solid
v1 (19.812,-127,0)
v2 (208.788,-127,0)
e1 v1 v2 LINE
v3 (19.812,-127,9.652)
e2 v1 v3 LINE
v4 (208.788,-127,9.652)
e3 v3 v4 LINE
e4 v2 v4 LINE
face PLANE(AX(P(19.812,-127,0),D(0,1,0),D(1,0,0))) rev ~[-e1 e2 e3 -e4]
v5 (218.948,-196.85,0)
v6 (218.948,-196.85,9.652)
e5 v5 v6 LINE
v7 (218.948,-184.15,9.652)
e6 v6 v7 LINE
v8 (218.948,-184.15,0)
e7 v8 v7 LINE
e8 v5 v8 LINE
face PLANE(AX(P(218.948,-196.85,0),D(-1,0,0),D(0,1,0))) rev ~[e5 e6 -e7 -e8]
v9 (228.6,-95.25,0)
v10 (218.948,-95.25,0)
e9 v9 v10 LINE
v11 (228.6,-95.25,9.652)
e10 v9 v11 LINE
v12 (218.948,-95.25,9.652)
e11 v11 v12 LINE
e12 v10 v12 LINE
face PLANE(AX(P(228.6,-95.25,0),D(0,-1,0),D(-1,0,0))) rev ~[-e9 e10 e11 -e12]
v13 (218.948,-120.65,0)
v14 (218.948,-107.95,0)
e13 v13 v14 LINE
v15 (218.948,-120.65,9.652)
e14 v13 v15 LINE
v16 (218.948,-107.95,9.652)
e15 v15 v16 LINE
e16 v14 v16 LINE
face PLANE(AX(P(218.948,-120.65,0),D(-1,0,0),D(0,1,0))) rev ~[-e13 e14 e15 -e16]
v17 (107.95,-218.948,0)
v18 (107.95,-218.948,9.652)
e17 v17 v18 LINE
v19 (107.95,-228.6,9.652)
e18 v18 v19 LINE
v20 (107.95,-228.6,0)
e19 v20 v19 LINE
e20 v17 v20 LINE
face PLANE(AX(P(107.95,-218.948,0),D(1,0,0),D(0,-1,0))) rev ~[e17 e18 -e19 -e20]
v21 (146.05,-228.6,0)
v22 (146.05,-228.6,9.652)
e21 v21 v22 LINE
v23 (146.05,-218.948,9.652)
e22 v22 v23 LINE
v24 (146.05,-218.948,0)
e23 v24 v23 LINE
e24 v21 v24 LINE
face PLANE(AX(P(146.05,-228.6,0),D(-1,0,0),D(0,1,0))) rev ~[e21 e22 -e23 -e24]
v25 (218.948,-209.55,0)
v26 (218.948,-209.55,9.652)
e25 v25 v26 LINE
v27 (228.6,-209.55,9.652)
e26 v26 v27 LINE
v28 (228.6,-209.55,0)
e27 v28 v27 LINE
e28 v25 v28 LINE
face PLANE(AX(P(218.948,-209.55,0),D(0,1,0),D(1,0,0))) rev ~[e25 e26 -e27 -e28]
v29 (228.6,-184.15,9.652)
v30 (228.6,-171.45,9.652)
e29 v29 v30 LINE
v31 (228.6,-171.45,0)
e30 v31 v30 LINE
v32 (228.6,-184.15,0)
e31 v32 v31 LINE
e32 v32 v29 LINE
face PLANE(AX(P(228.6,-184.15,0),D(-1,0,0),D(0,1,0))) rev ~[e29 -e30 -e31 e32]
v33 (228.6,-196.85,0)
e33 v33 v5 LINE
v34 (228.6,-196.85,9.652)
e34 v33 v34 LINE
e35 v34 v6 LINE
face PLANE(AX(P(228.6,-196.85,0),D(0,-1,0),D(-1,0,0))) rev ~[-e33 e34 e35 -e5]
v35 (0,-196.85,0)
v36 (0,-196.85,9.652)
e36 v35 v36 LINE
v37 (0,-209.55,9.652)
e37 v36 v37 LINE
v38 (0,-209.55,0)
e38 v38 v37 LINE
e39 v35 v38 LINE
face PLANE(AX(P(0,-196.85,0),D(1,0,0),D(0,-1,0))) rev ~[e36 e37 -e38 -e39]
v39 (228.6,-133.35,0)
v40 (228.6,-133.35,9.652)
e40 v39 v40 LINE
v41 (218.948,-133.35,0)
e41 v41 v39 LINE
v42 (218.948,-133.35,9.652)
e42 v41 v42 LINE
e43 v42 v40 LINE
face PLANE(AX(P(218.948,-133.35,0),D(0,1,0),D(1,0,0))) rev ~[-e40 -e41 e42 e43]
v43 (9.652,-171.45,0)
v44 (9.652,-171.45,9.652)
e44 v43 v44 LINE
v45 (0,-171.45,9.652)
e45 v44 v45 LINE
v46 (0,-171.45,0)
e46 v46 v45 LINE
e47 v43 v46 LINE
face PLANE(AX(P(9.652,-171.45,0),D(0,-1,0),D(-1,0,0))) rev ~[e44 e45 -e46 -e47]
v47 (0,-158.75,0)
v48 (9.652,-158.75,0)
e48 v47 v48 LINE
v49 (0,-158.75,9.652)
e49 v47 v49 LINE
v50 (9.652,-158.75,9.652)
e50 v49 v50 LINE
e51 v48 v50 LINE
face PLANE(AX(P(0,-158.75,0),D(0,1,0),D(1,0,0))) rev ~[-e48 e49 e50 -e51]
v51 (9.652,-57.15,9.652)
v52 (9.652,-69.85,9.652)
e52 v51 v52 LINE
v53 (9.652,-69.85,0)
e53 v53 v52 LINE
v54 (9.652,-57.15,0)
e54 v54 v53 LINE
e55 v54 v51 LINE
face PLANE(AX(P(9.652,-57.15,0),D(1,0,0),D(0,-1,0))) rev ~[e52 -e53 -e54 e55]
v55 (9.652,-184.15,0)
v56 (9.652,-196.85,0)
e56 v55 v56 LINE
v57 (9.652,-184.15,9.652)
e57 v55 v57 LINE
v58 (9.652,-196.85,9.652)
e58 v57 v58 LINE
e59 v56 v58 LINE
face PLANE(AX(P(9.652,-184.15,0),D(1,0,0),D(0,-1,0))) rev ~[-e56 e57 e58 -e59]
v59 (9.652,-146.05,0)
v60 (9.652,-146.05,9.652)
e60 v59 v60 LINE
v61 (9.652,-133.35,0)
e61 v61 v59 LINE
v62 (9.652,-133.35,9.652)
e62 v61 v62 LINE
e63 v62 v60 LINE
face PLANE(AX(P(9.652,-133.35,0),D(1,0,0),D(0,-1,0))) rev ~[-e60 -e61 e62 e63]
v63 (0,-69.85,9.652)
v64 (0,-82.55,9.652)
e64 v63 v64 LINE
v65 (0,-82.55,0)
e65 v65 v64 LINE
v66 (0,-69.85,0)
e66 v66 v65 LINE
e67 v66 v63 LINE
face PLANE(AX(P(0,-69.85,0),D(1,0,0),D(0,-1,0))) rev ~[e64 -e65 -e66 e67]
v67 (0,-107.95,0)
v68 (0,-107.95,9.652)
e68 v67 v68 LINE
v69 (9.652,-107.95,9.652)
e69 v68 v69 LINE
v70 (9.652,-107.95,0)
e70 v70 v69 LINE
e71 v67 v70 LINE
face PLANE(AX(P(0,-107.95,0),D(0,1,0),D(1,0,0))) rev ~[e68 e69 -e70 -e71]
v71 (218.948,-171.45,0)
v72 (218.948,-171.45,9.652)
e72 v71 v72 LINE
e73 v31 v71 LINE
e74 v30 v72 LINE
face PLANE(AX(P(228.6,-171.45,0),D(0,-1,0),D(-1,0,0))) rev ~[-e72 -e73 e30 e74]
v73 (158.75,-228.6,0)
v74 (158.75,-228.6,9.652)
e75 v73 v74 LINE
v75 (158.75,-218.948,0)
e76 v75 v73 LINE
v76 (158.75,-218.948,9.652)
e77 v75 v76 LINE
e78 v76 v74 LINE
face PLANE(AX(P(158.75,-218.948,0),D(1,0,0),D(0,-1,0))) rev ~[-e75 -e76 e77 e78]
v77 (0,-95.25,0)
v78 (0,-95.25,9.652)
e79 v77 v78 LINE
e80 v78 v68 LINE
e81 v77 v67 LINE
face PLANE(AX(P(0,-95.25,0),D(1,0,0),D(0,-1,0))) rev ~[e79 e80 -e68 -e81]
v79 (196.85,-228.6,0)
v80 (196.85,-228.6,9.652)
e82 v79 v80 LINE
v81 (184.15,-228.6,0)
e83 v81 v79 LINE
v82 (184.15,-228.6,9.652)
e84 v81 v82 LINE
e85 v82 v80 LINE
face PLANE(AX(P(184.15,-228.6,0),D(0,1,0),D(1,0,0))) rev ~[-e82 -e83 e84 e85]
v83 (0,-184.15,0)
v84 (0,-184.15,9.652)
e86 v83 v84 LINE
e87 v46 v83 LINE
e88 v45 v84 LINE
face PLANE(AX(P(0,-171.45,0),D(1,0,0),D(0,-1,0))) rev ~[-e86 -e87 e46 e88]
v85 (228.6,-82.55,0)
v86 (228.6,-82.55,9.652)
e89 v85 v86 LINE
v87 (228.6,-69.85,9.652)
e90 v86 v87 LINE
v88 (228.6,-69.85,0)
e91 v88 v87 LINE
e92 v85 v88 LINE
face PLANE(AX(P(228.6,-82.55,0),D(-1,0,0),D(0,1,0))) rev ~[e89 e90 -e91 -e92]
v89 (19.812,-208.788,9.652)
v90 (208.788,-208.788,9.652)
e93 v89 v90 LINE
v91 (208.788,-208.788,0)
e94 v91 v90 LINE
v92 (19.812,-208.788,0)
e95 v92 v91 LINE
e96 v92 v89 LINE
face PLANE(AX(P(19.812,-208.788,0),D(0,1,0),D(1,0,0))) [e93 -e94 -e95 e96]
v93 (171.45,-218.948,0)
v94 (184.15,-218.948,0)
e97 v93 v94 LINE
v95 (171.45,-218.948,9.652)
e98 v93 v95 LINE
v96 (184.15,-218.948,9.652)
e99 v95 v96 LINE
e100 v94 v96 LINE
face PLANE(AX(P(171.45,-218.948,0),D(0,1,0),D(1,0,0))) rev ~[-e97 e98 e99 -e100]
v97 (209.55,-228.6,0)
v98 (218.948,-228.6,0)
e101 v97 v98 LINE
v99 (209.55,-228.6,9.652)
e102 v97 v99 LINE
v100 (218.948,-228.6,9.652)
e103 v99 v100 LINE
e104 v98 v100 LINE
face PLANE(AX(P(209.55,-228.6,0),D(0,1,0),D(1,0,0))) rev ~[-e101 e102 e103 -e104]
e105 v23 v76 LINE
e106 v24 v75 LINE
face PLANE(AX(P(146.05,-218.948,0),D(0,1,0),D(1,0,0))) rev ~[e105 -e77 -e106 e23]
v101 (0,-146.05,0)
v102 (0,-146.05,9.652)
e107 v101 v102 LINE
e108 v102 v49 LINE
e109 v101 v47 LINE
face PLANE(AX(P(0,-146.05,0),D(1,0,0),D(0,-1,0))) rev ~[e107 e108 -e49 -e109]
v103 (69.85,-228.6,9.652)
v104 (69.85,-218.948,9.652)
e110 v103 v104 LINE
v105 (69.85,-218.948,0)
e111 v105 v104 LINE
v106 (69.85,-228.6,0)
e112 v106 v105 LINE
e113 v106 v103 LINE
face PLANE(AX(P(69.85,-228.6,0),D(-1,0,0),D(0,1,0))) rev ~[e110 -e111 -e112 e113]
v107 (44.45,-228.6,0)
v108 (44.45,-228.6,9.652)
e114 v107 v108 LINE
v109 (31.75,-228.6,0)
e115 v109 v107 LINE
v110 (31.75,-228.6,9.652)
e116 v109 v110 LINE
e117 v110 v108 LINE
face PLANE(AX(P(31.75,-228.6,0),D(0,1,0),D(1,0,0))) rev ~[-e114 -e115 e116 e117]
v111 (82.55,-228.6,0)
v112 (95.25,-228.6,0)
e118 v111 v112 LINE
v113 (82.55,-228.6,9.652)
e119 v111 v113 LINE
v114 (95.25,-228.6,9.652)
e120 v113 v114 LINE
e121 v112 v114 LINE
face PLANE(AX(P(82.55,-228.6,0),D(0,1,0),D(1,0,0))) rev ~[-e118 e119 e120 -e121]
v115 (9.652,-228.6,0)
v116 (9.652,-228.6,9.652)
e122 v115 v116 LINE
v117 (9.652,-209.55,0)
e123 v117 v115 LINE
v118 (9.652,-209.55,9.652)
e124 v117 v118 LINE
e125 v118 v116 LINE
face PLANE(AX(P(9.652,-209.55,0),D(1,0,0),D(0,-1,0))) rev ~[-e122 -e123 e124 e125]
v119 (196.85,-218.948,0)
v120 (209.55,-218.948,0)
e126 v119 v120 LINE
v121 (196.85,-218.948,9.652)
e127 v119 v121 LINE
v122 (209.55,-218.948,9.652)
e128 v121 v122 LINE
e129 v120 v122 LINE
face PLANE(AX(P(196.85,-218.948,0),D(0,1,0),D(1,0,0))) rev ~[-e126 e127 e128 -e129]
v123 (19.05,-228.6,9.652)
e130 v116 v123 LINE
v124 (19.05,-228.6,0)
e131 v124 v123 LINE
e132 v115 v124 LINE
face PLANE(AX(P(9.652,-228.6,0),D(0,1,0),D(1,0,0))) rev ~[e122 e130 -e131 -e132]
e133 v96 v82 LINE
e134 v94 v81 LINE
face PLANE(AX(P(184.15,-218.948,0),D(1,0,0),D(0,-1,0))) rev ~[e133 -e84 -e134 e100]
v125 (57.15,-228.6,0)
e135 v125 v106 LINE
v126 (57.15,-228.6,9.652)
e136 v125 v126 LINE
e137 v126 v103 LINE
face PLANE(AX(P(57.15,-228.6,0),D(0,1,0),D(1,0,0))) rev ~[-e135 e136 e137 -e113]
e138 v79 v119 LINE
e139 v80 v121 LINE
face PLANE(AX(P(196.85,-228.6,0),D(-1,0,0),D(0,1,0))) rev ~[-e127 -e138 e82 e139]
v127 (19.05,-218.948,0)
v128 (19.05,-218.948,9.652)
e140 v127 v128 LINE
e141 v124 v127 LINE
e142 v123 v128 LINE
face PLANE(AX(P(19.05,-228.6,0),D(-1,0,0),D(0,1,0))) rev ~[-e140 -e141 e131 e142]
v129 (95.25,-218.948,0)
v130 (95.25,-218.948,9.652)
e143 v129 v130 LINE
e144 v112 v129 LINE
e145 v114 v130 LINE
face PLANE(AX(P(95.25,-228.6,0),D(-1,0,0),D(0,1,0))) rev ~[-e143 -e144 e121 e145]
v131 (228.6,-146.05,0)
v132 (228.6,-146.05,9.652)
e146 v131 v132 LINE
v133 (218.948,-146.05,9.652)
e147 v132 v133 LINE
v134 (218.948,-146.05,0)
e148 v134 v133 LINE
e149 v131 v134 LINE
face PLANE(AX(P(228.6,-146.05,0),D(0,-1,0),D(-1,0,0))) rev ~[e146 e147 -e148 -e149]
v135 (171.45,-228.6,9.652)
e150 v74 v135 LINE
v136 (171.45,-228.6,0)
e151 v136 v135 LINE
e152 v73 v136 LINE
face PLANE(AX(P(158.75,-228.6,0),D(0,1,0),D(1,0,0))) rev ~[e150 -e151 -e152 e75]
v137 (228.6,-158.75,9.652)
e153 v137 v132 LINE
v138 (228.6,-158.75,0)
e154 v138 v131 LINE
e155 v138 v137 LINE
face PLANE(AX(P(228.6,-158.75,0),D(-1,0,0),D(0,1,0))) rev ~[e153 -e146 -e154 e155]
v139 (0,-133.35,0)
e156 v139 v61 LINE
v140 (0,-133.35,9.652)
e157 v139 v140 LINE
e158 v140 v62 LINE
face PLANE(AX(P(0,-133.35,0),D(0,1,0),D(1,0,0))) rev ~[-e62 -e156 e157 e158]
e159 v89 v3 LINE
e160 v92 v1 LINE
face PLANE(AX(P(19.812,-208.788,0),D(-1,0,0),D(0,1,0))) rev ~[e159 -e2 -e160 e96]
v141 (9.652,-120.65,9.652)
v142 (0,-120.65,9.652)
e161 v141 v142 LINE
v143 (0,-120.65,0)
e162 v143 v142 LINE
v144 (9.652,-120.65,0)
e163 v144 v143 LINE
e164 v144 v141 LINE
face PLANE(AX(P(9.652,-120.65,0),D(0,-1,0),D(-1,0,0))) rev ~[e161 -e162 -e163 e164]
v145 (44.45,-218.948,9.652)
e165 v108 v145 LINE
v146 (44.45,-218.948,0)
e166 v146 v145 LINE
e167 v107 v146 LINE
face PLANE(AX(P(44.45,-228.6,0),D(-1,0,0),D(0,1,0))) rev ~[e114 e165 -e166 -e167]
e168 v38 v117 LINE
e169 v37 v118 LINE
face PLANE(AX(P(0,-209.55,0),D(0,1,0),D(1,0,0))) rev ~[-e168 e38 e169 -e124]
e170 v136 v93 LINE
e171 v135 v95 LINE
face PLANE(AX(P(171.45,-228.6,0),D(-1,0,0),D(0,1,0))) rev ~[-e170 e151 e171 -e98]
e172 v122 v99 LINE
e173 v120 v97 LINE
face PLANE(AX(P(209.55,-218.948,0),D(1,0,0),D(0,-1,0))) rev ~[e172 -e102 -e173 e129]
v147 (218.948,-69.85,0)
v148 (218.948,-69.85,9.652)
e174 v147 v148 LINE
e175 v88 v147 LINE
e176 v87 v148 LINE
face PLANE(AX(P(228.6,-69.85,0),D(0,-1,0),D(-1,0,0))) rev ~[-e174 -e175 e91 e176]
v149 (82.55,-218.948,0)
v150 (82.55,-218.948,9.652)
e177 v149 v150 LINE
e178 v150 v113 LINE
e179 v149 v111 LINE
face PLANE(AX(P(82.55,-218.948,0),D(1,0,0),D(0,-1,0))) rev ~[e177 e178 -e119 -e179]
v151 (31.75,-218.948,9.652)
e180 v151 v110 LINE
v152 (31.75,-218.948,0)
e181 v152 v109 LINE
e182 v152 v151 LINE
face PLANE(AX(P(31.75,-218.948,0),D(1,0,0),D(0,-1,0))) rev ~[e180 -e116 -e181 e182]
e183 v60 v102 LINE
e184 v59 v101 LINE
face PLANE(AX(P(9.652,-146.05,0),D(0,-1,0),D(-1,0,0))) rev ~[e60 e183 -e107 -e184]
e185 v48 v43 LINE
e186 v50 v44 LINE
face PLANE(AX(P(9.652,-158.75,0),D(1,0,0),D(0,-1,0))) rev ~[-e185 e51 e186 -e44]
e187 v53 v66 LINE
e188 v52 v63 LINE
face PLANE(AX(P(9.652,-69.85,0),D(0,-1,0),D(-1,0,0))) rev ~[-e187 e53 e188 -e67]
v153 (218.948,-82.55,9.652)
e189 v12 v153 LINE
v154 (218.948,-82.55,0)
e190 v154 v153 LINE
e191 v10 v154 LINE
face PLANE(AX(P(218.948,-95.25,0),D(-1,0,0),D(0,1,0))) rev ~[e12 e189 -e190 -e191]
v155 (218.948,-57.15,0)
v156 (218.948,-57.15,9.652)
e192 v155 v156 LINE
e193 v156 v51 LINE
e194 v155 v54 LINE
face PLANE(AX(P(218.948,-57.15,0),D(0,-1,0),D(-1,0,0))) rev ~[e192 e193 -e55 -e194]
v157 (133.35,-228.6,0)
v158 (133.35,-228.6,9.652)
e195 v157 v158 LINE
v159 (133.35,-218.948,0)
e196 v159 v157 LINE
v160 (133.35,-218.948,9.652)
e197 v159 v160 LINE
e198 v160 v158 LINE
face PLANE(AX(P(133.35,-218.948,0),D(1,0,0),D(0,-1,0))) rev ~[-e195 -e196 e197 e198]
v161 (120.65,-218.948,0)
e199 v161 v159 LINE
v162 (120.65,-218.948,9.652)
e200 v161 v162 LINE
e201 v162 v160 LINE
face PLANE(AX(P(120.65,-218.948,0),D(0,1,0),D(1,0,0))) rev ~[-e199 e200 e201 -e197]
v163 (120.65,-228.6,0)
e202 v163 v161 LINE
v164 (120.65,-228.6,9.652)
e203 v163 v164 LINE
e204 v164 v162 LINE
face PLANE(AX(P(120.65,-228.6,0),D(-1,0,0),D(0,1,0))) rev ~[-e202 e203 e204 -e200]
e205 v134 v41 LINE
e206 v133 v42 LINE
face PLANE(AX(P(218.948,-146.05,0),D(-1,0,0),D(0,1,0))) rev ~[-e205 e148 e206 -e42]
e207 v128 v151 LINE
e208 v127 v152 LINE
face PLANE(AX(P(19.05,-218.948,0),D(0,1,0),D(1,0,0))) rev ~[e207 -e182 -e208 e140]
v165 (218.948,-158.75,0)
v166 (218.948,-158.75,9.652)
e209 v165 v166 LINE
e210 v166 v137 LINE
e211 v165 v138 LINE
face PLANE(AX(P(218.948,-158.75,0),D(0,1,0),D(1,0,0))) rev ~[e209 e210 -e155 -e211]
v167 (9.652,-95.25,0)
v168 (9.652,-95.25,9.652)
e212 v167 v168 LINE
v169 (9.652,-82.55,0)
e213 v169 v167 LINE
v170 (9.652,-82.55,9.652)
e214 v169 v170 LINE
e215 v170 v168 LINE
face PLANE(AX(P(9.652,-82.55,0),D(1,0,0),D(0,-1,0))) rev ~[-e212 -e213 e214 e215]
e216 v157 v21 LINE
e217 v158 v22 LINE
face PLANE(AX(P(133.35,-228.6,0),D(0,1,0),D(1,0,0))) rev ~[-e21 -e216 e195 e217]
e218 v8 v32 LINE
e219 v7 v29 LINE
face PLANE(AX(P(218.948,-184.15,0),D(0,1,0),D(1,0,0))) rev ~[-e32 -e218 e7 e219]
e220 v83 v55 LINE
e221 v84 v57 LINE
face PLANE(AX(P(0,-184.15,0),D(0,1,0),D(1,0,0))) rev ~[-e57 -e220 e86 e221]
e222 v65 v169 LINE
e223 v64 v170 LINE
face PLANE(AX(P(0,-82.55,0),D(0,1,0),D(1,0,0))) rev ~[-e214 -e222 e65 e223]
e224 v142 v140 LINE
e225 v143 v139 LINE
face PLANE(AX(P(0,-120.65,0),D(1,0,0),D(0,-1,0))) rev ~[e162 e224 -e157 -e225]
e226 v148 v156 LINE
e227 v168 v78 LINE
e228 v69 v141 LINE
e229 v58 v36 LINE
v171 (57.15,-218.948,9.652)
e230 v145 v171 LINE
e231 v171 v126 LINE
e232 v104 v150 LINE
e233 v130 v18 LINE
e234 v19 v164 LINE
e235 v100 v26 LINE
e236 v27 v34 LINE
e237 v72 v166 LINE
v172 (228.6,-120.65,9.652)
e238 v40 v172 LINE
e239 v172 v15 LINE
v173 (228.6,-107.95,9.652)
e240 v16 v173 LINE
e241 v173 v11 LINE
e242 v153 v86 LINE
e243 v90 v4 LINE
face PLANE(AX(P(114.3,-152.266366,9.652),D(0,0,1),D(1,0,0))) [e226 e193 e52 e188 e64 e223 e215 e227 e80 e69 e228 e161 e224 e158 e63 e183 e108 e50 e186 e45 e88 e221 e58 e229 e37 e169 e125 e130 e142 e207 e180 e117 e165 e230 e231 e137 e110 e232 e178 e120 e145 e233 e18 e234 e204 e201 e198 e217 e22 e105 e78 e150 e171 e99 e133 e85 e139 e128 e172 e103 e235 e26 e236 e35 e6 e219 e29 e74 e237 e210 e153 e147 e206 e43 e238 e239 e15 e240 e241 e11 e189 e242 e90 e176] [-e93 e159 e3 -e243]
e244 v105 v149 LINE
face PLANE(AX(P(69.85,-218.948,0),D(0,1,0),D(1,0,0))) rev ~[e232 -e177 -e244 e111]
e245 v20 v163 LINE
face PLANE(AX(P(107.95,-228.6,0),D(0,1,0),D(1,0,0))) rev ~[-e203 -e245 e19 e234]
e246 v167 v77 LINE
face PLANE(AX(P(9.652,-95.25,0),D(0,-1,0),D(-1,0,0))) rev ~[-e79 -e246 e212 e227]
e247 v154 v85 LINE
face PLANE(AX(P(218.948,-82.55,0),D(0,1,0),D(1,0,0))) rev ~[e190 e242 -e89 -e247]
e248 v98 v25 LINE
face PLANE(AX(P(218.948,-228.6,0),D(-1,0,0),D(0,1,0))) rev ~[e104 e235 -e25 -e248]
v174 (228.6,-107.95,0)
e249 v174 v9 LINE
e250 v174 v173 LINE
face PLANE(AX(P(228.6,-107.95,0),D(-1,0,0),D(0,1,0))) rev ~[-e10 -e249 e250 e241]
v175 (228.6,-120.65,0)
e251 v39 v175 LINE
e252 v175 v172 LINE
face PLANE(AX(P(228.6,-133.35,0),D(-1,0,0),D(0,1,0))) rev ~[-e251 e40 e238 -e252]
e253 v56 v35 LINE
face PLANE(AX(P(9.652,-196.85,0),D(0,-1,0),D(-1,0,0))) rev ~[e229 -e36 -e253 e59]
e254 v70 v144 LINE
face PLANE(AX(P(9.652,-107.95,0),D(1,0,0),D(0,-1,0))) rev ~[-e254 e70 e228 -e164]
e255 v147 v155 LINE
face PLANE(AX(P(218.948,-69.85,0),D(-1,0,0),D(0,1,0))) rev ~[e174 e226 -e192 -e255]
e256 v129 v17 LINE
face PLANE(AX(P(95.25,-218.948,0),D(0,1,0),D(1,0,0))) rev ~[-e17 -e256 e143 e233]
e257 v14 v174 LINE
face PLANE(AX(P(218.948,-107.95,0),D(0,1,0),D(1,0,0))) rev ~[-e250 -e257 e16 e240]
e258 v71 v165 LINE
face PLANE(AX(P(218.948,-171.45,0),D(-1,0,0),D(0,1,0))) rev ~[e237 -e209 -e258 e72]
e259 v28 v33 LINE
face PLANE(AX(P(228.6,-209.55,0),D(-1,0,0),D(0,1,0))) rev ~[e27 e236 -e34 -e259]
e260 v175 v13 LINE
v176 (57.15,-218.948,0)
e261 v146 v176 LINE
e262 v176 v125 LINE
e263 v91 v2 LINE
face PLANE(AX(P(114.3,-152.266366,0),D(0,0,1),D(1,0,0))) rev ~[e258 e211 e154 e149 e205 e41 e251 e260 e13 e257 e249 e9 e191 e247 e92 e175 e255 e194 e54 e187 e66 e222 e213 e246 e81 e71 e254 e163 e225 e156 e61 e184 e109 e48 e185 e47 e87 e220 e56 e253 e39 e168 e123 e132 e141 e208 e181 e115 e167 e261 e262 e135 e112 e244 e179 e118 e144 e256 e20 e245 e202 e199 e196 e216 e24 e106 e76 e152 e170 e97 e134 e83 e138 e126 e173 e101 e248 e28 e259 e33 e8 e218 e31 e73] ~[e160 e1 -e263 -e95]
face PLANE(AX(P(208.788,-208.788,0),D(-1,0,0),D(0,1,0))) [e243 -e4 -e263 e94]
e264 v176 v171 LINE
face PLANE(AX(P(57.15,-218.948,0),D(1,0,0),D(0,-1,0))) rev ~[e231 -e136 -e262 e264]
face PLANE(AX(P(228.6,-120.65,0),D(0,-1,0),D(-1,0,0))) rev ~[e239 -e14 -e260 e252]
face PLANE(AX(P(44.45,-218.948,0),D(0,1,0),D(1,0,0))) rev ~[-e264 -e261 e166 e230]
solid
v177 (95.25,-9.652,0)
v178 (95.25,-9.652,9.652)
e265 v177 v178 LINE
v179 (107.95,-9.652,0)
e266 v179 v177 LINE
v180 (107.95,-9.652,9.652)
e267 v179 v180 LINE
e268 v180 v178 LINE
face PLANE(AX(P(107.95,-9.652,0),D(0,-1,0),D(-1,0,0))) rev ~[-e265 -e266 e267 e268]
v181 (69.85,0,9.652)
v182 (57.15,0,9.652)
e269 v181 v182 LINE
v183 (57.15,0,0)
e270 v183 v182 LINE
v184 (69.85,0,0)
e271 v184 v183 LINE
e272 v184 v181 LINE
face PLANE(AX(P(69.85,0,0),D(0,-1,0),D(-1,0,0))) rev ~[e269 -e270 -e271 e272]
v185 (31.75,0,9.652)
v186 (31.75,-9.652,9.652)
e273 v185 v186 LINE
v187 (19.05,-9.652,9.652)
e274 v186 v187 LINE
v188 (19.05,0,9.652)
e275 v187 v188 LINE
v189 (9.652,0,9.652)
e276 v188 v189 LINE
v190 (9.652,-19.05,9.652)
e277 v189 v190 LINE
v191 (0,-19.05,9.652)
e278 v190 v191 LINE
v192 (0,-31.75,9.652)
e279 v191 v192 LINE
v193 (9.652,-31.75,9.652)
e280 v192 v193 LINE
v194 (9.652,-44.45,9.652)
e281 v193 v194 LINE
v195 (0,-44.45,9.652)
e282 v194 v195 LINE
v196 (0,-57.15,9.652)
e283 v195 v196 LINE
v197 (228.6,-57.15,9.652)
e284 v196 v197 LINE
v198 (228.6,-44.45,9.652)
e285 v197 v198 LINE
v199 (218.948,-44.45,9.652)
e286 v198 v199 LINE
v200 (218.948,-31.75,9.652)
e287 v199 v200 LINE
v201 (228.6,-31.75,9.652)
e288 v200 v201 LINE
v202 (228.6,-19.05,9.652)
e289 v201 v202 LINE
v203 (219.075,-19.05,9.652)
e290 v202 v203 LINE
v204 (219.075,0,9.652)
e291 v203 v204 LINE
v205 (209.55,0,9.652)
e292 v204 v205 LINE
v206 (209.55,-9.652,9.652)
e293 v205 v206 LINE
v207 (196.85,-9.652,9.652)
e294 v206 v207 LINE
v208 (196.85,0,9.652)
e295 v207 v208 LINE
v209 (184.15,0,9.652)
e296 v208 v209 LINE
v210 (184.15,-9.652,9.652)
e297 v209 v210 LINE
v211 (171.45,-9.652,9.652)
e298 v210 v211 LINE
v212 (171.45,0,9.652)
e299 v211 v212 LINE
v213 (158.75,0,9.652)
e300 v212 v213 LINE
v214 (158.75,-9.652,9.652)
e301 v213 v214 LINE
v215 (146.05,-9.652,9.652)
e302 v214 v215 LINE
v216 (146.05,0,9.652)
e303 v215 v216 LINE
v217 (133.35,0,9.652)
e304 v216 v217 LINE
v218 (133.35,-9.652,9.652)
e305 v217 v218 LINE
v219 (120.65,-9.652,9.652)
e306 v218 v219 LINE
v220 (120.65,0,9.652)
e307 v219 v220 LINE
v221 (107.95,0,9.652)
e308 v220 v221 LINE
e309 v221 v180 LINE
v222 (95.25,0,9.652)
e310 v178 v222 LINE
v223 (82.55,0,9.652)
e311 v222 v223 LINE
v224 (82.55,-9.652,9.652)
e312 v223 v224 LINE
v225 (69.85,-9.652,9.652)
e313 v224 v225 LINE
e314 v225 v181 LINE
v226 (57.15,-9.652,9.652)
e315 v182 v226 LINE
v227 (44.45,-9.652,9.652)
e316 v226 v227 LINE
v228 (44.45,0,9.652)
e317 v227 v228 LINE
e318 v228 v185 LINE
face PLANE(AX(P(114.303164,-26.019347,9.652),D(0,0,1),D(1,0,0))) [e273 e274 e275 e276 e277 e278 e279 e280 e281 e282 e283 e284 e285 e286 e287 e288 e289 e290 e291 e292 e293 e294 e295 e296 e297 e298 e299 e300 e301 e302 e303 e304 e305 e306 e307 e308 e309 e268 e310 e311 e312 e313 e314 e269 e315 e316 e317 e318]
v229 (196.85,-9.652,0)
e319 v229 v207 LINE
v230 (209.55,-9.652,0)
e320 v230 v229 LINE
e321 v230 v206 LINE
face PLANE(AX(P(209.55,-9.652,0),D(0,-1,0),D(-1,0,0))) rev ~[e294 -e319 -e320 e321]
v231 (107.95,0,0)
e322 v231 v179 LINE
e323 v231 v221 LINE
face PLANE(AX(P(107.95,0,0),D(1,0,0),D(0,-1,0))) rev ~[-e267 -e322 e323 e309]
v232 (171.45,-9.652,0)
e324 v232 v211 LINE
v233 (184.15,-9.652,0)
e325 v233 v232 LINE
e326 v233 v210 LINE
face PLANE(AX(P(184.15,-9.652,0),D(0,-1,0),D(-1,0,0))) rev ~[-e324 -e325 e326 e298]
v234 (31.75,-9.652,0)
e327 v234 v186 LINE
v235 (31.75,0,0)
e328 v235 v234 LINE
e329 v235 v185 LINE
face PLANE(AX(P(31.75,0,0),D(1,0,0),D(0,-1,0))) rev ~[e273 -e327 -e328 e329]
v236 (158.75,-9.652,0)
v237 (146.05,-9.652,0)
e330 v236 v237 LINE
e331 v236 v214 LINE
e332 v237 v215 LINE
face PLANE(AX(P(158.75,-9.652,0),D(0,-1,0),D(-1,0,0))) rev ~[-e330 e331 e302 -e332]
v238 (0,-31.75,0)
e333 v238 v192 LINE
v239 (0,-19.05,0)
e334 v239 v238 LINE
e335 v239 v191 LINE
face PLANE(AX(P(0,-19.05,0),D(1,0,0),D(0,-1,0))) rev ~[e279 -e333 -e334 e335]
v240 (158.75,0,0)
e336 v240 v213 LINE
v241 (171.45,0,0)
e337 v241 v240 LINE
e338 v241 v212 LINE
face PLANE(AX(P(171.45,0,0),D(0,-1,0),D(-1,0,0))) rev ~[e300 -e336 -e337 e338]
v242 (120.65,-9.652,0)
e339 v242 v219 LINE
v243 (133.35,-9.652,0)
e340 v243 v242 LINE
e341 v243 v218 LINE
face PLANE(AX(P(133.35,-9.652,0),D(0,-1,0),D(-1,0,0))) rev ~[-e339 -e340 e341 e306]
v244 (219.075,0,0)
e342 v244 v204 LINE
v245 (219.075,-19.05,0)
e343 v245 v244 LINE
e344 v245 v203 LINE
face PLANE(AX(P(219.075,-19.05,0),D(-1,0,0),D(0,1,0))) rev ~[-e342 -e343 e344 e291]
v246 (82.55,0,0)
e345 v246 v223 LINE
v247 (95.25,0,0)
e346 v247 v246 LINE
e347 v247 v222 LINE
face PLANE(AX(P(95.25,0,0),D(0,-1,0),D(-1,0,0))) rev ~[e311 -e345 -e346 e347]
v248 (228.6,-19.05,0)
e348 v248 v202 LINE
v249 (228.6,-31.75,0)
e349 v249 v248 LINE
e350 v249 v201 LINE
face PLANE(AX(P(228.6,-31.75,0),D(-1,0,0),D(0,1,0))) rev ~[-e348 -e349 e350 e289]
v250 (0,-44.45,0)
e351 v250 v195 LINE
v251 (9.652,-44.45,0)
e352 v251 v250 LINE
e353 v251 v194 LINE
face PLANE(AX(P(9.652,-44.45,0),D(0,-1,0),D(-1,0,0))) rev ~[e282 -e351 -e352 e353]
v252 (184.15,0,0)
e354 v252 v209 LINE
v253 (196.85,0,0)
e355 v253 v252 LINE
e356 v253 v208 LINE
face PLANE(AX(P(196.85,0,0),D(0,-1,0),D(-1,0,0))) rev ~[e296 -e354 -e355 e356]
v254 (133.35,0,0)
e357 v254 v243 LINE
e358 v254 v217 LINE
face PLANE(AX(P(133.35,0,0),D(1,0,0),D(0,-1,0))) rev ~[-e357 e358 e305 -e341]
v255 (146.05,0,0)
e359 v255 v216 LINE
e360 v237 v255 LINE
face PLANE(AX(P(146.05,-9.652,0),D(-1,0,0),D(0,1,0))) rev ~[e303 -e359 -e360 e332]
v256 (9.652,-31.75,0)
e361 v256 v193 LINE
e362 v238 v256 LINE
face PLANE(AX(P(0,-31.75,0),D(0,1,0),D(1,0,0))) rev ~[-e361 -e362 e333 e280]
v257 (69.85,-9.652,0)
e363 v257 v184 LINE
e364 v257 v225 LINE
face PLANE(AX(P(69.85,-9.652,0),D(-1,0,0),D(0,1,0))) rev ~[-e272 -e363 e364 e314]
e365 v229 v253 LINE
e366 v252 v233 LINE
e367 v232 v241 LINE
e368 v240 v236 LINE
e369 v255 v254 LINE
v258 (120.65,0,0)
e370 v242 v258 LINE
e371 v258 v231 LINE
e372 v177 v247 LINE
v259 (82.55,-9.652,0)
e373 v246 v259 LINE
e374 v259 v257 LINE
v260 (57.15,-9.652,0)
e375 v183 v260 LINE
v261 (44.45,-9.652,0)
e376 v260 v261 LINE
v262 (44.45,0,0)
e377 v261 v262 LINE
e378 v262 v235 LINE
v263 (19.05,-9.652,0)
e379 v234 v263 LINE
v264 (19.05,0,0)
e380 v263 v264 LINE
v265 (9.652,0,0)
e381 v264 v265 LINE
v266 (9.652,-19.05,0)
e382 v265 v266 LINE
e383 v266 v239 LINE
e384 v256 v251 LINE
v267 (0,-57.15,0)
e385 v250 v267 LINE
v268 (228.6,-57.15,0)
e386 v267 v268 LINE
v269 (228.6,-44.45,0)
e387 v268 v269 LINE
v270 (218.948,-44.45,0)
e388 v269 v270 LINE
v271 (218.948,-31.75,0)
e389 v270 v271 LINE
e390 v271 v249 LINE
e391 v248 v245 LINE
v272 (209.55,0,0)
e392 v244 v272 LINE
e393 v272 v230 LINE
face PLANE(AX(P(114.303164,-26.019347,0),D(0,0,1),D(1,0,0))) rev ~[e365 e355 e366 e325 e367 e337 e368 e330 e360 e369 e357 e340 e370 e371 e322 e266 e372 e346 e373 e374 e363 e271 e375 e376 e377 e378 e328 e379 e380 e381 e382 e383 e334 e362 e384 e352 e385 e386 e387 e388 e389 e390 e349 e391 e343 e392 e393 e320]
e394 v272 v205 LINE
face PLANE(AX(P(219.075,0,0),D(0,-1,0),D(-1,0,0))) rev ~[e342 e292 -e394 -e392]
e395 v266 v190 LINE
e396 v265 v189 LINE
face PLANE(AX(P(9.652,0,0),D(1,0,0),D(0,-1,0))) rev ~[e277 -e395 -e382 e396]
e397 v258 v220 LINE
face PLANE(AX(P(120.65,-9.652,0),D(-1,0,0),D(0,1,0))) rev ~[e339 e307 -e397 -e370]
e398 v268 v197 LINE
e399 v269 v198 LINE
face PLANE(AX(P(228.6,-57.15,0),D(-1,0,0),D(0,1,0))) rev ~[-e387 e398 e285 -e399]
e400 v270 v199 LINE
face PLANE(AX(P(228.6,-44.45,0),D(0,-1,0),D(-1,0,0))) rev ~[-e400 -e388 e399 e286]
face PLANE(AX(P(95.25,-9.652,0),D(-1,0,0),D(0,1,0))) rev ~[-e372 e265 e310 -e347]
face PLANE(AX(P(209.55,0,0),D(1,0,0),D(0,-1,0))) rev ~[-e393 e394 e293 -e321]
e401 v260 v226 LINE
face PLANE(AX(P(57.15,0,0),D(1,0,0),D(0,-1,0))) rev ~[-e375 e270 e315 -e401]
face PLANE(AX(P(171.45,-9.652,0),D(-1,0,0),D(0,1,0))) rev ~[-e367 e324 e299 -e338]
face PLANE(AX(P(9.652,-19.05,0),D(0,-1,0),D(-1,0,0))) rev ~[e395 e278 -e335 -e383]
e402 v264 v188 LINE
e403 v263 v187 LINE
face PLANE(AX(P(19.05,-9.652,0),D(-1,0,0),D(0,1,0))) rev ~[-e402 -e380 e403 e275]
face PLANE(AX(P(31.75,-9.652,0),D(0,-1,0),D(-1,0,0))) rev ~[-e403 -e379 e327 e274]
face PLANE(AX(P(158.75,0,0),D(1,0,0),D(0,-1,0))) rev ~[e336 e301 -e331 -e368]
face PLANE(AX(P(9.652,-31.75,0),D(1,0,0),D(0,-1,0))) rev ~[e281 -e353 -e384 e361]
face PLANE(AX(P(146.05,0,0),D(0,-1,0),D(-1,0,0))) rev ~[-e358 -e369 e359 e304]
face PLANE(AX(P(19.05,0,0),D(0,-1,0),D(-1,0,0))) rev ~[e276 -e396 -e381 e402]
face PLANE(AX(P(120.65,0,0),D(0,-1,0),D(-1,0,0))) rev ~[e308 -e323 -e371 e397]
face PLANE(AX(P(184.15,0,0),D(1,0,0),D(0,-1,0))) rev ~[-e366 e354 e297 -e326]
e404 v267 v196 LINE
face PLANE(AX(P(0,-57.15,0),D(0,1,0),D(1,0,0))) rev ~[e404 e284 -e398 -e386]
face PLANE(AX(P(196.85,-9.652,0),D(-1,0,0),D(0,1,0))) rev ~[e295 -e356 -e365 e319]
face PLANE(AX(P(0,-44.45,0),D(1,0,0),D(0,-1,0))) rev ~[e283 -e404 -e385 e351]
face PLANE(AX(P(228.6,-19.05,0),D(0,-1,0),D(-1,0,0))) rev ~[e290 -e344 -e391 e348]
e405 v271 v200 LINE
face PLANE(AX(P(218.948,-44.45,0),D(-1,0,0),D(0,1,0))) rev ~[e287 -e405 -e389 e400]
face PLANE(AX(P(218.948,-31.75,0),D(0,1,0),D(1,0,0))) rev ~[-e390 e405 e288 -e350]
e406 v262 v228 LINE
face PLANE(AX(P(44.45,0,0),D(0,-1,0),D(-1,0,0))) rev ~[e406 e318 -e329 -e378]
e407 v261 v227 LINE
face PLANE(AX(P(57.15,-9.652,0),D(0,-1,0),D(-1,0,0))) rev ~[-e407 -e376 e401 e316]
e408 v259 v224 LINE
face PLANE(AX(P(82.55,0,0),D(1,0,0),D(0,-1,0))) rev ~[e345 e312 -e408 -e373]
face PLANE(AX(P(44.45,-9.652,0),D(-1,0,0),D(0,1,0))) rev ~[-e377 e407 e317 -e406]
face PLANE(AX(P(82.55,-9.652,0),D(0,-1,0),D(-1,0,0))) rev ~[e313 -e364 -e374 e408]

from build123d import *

# Parameters (mm, degrees)
F1_DEPTH = 9.652
F0_W     = 188.976
F0_H     = 81.788
F2_DEPTH = 9.652


with BuildPart() as f1:
    # F0 (on Top) → F1 (new body)
    with BuildSketch(Plane.XY):
        Polygon((19.05, 0), (9.652, 0), (9.652, -19.05), (0, -19.05), (0, -31.75), (9.652, -31.75), (9.652, -44.45), (0, -44.45), (0, -57.15), (9.652, -57.15), (218.948, -57.15), (228.6, -57.15), (228.6, -44.45), (218.948, -44.45), (218.948, -31.75), (228.6, -31.75), (228.6, -19.05), (219.075, -19.05), (219.075, 0), (209.55, 0), (209.55, -9.652), (196.85, -9.652), (196.85, 0), (184.15, 0), (184.15, -9.652), (171.45, -9.652), (171.45, 0), (158.75, 0), (158.75, -9.652), (146.05, -9.652), (146.05, 0), (133.35, 0), (133.35, -9.652), (120.65, -9.652), (120.65, 0), (107.95, 0), (107.95, -9.652), (95.25, -9.652), (95.25, 0), (82.55, 0), (82.55, -9.652), (69.85, -9.652), (69.85, 0), (57.15, 0), (57.15, -9.652), (44.45, -9.652), (44.45, 0), (31.75, 0), (31.75, -9.652), (19.05, -9.652), align=None)
    extrude(amount=F1_DEPTH)


with BuildPart() as f2:
    # F0 (on Top) → F2 (new body)
    with BuildSketch(Plane.XY):
        Polygon((218.948, -57.15), (9.652, -57.15), (9.652, -69.85), (0, -69.85), (0, -82.55), (9.652, -82.55), (9.652, -95.25), (0, -95.25), (0, -107.95), (9.652, -107.95), (9.652, -120.65), (0, -120.65), (0, -133.35), (9.652, -133.35), (9.652, -146.05), (0, -146.05), (0, -158.75), (9.652, -158.75), (9.652, -171.45), (0, -171.45), (0, -184.15), (9.652, -184.15), (9.652, -196.85), (0, -196.85), (0, -209.55), (9.652, -209.55), (9.652, -228.6), (19.05, -228.6), (19.05, -218.948), (31.75, -218.948), (31.75, -228.6), (44.45, -228.6), (44.45, -218.948), (57.15, -218.948), (57.15, -228.6), (69.85, -228.6), (69.85, -218.948), (82.55, -218.948), (82.55, -228.6), (95.25, -228.6), (95.25, -218.948), (107.95, -218.948), (107.95, -228.6), (120.65, -228.6), (120.65, -218.948), (133.35, -218.948), (133.35, -228.6), (146.05, -228.6), (146.05, -218.948), (158.75, -218.948), (158.75, -228.6), (171.45, -228.6), (171.45, -218.948), (184.15, -218.948), (184.15, -228.6), (196.85, -228.6), (196.85, -218.948), (209.55, -218.948), (209.55, -228.6), (218.948, -228.6), (218.948, -209.55), (228.6, -209.55), (228.6, -196.85), (218.948, -196.85), (218.948, -184.15), (228.6, -184.15), (228.6, -171.45), (218.948, -171.45), (218.948, -158.75), (228.6, -158.75), (228.6, -146.05), (218.948, -146.05), (218.948, -133.35), (228.6, -133.35), (228.6, -120.65), (218.948, -120.65), (218.948, -107.95), (228.6, -107.95), (228.6, -95.25), (218.948, -95.25), (218.948, -82.55), (228.6, -82.55), (228.6, -69.85), (218.948, -69.85), align=None)
        with Locations((114.3, -167.894)):
            Rectangle(F0_W, F0_H, mode=Mode.SUBTRACT)
    extrude(amount=F2_DEPTH)


solid = Compound([f1.part, f2.part])
